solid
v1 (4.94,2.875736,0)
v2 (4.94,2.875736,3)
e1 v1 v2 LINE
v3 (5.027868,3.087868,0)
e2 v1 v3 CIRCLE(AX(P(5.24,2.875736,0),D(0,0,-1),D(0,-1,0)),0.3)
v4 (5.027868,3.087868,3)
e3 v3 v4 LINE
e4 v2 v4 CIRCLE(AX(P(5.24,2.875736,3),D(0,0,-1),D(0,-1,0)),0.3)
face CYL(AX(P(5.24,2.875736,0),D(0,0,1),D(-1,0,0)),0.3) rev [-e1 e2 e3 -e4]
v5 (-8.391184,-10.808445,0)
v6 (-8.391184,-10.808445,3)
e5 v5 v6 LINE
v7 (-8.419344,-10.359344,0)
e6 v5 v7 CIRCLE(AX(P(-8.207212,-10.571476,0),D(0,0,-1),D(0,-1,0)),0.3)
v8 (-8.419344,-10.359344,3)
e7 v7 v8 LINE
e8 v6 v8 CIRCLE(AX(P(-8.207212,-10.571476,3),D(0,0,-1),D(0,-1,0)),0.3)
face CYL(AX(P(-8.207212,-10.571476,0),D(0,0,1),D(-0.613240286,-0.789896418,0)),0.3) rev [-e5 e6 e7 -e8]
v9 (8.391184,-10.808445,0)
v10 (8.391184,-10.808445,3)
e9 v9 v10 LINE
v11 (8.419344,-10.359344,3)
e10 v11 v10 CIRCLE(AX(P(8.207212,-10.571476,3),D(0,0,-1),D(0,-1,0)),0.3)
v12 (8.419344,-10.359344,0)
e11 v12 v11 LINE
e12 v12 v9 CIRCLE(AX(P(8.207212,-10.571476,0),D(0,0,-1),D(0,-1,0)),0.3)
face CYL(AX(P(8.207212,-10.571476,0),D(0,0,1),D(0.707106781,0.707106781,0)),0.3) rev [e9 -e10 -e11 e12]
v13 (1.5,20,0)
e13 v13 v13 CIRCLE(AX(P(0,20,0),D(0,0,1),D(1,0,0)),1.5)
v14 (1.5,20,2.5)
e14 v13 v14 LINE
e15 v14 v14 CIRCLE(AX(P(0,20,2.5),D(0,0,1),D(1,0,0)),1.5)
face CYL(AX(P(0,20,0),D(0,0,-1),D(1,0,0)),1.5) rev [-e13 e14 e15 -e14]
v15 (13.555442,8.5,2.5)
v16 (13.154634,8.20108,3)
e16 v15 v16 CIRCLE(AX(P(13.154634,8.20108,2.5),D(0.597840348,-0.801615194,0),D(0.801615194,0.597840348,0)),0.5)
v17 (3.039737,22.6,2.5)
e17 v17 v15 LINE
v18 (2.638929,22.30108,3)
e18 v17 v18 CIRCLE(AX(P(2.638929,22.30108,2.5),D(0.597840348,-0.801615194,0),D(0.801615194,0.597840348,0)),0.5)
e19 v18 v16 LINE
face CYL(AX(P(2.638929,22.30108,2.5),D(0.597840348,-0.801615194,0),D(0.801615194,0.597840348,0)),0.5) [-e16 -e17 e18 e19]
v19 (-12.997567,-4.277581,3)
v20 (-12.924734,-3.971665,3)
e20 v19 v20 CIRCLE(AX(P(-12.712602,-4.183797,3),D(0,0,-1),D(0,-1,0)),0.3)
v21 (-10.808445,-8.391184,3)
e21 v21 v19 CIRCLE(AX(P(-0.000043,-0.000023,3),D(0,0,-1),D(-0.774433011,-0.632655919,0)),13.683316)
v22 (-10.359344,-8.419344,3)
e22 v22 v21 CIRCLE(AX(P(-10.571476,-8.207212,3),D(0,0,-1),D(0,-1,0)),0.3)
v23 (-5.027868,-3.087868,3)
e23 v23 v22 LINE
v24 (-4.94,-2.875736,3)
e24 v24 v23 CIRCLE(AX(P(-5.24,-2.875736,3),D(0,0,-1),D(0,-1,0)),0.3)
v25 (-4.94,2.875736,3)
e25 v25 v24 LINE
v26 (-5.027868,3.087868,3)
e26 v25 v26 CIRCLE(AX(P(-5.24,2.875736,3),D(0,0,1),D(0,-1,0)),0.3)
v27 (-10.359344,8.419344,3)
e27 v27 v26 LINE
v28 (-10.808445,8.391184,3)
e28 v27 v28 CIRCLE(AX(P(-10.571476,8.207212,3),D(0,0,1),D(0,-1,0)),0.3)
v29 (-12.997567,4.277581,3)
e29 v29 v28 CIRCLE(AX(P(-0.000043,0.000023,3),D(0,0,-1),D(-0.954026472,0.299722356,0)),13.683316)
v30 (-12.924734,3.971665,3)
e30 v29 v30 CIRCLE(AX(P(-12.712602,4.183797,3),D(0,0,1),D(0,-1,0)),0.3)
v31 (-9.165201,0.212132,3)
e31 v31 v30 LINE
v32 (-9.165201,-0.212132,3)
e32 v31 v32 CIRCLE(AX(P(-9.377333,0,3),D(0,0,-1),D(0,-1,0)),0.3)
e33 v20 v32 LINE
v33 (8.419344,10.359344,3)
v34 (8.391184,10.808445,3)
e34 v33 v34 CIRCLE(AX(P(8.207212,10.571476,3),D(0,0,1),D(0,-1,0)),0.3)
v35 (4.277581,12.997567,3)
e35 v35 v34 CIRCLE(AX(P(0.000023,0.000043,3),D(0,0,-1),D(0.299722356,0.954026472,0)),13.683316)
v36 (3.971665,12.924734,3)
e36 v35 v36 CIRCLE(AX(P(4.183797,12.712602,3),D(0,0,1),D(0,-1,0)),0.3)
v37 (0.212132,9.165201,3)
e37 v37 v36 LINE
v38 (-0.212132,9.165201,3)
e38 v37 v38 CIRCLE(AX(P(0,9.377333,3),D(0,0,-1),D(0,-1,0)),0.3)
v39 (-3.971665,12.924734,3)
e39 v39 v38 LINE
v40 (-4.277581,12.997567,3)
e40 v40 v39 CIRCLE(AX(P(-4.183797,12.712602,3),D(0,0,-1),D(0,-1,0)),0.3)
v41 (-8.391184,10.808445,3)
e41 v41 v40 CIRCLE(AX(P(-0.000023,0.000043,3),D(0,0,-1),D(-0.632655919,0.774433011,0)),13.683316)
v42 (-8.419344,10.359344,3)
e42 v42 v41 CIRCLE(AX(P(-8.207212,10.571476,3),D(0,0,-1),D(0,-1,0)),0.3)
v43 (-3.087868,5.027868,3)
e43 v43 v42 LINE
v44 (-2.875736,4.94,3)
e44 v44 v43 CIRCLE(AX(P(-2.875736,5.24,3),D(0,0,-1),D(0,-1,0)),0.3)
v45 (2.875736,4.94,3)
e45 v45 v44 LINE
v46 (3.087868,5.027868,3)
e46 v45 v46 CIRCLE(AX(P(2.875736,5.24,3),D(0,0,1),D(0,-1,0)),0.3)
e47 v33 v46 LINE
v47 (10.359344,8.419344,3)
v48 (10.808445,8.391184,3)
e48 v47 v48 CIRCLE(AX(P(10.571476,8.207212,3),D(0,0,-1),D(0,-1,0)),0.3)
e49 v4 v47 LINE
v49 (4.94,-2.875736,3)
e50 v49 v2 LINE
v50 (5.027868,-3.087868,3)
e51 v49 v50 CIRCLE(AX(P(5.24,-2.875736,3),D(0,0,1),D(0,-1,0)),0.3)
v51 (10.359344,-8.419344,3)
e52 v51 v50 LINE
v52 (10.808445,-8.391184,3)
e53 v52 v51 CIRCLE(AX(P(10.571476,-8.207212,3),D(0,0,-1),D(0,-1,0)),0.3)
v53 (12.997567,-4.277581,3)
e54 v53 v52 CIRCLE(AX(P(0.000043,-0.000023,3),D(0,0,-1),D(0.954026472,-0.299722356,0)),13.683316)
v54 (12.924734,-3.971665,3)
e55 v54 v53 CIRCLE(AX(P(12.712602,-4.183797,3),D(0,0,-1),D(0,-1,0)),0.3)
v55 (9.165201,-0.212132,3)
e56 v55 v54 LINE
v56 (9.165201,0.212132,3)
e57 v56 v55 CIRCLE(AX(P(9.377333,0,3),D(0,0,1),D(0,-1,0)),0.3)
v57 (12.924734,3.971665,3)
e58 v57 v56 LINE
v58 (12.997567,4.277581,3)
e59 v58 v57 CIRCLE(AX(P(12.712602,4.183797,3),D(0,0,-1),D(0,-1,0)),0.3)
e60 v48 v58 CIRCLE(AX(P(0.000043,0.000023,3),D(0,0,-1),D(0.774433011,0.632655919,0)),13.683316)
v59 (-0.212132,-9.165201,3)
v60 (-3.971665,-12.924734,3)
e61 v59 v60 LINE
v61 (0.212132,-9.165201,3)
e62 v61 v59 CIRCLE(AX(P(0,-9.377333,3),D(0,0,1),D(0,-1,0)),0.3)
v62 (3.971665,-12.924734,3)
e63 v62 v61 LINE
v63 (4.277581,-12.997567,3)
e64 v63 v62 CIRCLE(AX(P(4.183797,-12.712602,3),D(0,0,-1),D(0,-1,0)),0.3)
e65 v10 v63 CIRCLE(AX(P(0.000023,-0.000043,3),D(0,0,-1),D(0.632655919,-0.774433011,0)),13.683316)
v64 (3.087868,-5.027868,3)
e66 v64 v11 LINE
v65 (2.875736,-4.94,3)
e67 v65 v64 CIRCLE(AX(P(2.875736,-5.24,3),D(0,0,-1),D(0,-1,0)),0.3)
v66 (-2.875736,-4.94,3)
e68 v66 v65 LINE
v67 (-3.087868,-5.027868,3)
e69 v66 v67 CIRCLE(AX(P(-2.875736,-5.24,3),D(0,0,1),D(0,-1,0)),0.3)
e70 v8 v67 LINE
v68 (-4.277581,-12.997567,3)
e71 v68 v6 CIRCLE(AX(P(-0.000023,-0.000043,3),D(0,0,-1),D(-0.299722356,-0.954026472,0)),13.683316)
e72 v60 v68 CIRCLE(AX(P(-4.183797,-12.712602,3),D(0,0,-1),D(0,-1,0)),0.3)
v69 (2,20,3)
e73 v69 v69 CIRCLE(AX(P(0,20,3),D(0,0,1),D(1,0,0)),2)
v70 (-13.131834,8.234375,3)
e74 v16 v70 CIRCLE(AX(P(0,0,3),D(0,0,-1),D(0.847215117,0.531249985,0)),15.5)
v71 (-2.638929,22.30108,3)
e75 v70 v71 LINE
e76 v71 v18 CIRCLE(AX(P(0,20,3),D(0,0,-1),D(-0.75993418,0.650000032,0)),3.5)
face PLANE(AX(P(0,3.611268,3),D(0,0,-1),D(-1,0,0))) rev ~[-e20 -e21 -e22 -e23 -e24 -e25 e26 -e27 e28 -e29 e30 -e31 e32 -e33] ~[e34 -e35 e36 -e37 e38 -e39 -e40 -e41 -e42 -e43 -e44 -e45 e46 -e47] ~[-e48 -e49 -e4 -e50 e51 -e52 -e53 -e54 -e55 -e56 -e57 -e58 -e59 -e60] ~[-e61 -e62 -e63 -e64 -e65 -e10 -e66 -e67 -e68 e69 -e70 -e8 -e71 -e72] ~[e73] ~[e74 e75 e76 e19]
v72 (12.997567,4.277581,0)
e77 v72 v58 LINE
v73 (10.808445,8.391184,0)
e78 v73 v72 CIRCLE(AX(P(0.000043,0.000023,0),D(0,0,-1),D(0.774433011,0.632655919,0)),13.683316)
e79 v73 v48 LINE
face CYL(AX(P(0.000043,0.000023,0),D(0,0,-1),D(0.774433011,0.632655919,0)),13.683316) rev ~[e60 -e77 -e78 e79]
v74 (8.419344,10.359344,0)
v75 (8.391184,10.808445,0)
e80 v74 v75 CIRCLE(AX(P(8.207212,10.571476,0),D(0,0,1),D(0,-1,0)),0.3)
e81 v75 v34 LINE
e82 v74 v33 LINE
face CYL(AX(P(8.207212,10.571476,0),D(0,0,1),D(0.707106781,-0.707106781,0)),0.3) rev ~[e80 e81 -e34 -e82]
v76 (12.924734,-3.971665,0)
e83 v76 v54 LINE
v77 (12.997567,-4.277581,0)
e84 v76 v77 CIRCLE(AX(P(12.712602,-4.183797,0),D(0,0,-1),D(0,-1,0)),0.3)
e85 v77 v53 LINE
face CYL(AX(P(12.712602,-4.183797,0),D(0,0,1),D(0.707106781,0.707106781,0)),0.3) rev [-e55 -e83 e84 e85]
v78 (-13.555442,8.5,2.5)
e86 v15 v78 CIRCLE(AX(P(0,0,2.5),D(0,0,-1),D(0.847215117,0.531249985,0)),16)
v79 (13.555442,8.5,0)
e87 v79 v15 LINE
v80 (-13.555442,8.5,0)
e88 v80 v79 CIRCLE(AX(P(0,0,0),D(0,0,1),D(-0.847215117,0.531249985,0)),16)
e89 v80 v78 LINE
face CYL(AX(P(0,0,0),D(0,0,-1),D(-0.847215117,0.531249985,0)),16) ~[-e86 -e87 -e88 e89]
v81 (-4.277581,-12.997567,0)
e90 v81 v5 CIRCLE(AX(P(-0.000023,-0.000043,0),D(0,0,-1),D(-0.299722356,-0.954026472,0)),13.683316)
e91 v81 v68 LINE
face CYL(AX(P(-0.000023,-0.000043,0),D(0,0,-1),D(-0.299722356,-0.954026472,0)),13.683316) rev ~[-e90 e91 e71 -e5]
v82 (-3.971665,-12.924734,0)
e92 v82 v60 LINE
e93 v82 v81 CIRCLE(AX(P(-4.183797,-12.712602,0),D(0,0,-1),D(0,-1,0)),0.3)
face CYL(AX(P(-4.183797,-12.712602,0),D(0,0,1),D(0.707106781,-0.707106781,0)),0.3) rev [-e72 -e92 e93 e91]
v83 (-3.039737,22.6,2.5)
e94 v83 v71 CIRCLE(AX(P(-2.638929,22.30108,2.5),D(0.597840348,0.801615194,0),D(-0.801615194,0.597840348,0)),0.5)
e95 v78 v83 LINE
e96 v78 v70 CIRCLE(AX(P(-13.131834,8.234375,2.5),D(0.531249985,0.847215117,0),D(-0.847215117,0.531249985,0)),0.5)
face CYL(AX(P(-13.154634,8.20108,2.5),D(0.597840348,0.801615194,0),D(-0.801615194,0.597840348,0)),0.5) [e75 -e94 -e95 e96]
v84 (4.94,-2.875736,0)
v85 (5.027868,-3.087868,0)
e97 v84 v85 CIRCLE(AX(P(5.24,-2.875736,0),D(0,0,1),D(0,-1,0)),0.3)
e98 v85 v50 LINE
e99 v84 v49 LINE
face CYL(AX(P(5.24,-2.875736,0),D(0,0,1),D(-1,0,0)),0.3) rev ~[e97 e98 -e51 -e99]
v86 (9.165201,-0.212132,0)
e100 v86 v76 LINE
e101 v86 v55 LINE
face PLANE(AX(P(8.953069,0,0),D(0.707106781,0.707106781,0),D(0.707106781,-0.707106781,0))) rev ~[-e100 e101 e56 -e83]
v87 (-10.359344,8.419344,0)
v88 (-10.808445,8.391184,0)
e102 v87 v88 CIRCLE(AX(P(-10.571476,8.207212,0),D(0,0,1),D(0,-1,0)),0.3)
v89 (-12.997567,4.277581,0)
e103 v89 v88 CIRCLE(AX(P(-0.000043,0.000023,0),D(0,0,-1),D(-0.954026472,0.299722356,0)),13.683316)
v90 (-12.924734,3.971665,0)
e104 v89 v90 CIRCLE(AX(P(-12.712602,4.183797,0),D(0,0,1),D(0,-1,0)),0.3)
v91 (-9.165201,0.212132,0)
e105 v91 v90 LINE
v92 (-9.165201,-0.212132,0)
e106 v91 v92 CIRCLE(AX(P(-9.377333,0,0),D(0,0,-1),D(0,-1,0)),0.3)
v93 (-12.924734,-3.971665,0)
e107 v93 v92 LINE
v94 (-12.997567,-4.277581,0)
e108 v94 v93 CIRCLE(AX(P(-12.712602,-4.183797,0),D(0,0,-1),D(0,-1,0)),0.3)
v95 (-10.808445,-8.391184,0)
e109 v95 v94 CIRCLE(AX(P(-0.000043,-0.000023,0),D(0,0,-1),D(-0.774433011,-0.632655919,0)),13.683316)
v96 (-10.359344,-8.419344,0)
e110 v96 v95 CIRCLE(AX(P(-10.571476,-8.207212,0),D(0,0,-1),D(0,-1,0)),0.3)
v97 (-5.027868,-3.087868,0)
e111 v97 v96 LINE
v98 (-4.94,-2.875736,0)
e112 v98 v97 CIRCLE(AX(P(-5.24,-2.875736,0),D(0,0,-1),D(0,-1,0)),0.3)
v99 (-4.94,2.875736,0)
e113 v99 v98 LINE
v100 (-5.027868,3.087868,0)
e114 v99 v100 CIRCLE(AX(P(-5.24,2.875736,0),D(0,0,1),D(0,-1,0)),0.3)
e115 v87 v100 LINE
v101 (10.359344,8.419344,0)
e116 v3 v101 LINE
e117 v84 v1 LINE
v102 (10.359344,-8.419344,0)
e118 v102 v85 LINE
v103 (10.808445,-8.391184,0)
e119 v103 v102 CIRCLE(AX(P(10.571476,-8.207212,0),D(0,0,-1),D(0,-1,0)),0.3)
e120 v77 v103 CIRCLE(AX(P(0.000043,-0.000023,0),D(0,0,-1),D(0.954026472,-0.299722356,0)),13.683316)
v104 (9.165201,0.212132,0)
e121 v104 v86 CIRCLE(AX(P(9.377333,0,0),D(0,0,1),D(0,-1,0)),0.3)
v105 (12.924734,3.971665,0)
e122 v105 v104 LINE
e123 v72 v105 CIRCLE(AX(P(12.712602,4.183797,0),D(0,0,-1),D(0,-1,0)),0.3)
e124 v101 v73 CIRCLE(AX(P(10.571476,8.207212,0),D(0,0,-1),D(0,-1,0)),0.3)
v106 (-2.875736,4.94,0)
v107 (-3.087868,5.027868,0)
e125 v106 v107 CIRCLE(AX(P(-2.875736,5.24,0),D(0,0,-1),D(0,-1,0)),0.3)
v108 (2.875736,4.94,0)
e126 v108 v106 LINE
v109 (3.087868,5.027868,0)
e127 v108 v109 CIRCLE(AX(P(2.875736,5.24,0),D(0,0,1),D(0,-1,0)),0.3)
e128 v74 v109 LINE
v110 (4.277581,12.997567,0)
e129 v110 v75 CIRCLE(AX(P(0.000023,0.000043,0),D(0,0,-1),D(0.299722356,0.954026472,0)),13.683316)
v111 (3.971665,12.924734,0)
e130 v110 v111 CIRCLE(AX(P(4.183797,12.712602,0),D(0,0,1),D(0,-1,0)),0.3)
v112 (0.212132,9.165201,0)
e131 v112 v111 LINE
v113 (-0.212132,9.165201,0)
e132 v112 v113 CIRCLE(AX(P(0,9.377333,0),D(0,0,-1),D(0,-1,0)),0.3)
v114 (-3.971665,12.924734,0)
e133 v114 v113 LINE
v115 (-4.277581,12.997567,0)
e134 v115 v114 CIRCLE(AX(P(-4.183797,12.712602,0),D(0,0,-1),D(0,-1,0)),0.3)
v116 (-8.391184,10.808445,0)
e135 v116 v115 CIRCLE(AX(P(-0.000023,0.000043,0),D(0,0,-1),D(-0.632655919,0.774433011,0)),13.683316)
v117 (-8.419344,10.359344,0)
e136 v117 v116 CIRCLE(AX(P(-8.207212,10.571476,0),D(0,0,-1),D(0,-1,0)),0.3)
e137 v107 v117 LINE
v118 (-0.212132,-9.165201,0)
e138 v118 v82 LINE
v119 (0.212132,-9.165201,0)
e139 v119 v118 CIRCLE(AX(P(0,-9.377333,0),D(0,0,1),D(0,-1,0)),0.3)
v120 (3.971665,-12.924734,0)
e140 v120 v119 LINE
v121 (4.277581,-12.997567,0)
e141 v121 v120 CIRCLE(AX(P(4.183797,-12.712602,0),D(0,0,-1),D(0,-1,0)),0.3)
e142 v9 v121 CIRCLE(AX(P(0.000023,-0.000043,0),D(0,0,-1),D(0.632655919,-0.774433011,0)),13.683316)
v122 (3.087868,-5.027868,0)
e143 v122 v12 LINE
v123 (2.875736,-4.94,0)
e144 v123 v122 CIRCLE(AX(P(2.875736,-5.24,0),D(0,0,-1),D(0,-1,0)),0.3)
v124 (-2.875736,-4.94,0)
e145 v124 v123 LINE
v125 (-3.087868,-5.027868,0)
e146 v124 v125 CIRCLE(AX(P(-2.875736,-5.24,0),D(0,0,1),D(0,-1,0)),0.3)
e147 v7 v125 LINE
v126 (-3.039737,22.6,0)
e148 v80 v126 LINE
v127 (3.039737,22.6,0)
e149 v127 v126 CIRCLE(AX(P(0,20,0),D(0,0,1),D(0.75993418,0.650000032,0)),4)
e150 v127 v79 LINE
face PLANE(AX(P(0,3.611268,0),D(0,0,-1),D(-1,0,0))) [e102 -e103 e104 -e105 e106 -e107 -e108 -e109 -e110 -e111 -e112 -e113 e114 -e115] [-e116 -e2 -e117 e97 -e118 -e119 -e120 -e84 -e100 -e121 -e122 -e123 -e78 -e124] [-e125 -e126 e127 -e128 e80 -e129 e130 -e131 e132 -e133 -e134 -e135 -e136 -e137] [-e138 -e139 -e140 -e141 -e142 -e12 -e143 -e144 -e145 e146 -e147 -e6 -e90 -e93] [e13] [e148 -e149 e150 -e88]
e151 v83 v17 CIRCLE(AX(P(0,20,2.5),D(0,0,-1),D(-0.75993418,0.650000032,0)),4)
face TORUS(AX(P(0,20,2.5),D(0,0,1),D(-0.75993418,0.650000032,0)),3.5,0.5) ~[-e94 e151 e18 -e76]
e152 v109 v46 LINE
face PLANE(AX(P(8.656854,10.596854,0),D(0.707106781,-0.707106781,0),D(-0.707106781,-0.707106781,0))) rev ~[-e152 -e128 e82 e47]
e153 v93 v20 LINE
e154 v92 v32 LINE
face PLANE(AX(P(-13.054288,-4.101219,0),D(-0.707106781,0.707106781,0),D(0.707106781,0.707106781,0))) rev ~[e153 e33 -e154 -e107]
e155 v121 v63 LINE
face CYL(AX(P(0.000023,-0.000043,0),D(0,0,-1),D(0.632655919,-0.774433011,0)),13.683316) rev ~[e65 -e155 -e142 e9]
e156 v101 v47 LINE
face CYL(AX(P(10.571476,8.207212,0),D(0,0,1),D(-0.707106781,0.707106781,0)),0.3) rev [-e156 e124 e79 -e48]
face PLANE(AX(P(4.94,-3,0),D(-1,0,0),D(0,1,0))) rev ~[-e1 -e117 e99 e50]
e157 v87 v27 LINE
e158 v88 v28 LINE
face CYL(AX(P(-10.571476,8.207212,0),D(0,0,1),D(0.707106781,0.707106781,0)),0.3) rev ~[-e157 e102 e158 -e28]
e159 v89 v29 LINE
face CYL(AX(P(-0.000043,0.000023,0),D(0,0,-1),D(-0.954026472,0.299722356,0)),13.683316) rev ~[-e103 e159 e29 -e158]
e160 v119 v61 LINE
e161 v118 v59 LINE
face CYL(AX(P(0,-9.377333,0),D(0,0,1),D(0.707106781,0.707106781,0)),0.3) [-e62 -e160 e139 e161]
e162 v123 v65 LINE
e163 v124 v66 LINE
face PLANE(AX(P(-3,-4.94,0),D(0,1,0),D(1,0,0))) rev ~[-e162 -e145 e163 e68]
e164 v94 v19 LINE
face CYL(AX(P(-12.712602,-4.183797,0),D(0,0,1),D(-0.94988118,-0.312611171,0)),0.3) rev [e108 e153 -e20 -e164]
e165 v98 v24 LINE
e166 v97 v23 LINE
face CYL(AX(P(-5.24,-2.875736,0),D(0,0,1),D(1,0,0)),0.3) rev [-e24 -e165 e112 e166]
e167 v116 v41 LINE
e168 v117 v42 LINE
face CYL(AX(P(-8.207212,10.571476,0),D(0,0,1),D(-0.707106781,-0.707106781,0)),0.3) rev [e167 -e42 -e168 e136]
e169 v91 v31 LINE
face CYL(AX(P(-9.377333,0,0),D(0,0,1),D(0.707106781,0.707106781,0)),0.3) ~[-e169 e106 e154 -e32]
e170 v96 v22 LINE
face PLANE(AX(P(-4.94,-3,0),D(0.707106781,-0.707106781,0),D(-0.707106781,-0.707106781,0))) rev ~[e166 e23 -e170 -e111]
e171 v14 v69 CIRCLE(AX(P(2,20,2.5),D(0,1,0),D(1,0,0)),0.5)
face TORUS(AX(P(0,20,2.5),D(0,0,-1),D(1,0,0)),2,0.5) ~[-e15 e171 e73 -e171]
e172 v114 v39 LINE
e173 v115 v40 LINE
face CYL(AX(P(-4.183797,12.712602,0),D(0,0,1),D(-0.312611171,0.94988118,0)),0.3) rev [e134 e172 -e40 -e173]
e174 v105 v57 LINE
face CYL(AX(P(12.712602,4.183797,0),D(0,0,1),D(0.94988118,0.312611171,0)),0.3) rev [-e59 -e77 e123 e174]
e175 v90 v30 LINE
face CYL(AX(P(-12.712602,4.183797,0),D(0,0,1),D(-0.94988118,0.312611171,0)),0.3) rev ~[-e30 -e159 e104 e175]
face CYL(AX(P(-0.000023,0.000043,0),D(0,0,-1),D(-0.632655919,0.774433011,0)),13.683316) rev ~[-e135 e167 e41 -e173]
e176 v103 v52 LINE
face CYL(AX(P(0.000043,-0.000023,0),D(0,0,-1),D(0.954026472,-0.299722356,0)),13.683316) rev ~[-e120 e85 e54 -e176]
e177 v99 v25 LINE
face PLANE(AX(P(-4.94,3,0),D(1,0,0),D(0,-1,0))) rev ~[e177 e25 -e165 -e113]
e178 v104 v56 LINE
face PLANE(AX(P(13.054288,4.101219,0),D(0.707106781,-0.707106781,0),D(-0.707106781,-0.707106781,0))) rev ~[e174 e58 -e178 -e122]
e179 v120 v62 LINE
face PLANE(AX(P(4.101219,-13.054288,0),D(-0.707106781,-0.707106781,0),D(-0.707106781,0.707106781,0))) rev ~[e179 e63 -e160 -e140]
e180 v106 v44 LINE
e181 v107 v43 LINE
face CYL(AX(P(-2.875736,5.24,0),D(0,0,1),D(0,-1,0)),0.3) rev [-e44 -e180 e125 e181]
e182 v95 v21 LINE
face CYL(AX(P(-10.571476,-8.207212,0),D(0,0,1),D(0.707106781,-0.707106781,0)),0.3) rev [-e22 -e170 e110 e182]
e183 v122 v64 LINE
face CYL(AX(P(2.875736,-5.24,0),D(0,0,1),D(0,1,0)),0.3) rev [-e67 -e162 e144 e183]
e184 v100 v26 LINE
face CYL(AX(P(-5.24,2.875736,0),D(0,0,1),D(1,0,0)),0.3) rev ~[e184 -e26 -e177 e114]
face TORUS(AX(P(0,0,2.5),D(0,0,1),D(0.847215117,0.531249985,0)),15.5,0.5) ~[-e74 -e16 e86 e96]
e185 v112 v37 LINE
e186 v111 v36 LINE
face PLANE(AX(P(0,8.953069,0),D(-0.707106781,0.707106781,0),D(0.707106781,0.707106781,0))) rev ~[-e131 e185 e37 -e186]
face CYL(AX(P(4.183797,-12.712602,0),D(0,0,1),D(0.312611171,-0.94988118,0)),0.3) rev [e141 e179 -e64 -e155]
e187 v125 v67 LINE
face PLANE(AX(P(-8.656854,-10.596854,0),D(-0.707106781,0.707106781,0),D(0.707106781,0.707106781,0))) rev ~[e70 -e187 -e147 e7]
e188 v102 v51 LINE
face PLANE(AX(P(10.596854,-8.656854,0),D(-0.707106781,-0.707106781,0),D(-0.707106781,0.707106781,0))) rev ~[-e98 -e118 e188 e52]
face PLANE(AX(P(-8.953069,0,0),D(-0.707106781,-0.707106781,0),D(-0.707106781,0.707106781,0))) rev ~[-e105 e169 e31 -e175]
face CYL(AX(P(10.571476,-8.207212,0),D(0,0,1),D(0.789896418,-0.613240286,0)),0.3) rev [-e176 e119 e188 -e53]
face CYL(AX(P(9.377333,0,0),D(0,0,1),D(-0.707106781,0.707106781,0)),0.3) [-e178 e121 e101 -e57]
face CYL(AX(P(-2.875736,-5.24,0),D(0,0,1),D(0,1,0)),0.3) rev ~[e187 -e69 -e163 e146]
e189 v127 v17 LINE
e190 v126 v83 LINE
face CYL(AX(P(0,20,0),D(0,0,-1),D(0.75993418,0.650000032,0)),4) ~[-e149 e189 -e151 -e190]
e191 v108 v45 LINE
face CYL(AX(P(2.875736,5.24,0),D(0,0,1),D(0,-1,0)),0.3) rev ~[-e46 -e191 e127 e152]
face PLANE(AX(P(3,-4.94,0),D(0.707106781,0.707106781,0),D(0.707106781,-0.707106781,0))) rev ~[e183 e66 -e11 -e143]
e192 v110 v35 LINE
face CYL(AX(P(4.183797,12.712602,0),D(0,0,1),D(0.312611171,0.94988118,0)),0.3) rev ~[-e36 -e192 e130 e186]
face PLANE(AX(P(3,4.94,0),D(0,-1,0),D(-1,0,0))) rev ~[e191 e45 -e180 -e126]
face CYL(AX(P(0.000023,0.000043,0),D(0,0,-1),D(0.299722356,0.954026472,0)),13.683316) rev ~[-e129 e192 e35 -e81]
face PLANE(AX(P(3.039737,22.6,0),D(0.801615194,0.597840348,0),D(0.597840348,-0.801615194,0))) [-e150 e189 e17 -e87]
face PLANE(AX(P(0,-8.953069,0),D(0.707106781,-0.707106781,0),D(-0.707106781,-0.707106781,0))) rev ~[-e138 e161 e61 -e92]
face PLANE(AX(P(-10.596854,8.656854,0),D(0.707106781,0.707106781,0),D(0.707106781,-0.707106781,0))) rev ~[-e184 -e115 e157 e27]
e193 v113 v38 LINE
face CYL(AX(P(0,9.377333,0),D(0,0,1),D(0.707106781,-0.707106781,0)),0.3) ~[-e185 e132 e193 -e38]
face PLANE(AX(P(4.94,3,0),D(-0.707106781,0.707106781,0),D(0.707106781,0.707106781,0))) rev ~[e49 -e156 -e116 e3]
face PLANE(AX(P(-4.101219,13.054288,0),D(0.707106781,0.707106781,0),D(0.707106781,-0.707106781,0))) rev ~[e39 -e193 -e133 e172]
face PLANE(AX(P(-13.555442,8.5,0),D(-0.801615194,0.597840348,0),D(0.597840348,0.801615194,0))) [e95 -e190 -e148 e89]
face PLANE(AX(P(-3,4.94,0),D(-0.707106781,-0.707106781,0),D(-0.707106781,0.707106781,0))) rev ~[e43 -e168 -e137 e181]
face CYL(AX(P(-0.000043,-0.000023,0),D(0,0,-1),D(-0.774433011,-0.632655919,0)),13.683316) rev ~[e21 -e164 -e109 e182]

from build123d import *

# Parameters (mm, degrees)
SKETCH_R           = 1.5
PAD_DEPTH          = 3
FILLET_R           = 0.5
POCKET_DEPTH       = 105.626533
FILLET001_R        = 0.3
POLARPATTERN_COUNT = 4
FILLET002_R        = 0.3
FILLET003_R        = 0.3
FILLET004_R        = 0.3


with BuildPart() as part:
    # Sketch → Pad (new body)
    with BuildSketch(Plane.XY):
        with BuildLine():
            Line((-13.555442, 8.5), (-3.039737, 22.6))
            ThreePointArc((3.039737, 22.6), (0, 24), (-3.039737, 22.6))
            Line((3.039737, 22.6), (13.555442, 8.5))
            ThreePointArc((-13.555442, 8.5), (0, -16), (13.555442, 8.5))
        make_face()
        with Locations((0, 20)):
            Circle(SKETCH_R, mode=Mode.SUBTRACT)
    extrude(amount=PAD_DEPTH)

    # Fillet
    fillet_edges = [part.edges().sort_by_distance(p)[0] for p in [
        (8.297589, 15.55, 3),
        (0, -16, 3),
        (-8.297589, 15.55, 3),
        (0, 24, 3),
        (-1.5, 20, 3),
    ]]
    fillet(fillet_edges, radius=FILLET_R)

    # Sketch001 (on Face6 of Pad) → Pocket (cut, through all)
    with BuildSketch(Plane(origin=(0, 0, 0), x_dir=(1, 0, 0), z_dir=(0, 0, -1))):
        with BuildLine():
            Line((-3, 4.94), (3, 4.94))
            Line((3, 4.94), (8.656854, 10.596854))
            ThreePointArc((8.656854, 10.596854), (6.496296, 12.042948), (4.101219, 13.054288))
            Line((4.101219, 13.054288), (0, 8.953069))
            Line((0, 8.953069), (-4.101219, 13.054288))
            ThreePointArc((-4.101219, 13.054288), (-6.496296, 12.042948), (-8.656854, 10.596854))
            Line((-8.656854, 10.596854), (-3, 4.94))
        make_face()
    pocket = extrude(amount=-POCKET_DEPTH, mode=Mode.SUBTRACT)

    # Fillet001
    fillet001_edges = [part.edges().sort_by_distance(p)[0] for p in [
        (-3, -4.94, 1.5),
        (3, -4.94, 1.5),
        (-8.656854, -10.596854, 1.5),
        (0, -8.953069, 1.5),
        (8.656854, -10.596854, 1.5),
        (4.101219, -13.054288, 1.5),
        (-4.101219, -13.054288, 1.5),
    ]]
    fillet(fillet001_edges, radius=FILLET001_R)

    # PolarPattern: Pocket ×4 about axis
    polarpattern_axis = Axis((0, 0, 0), (0, 0, -1))
    for i in range(1, POLARPATTERN_COUNT):
        add(pocket.rotate(polarpattern_axis, i * 360 / POLARPATTERN_COUNT), mode=Mode.SUBTRACT)

    # Fillet002
    fillet002_edges = [part.edges().sort_by_distance(p)[0] for p in [
        (10.596854, 8.656854, 1.5),
        (8.953069, 0, 1.5),
        (13.054288, 4.101219, 1.5),
        (13.054288, -4.101219, 1.5),
        (4.94, 3, 1.5),
        (4.94, -3, 1.5),
        (10.596854, -8.656854, 1.5),
    ]]
    fillet(fillet002_edges, radius=FILLET002_R)

    # Fillet003
    fillet003_edges = [part.edges().sort_by_distance(p)[0] for p in [
        (-10.596854, -8.656854, 1.5),
        (-8.953069, 0, 1.5),
        (-13.054288, 4.101219, 1.5),
        (-13.054288, -4.101219, 1.5),
        (-4.94, 3, 1.5),
        (-4.94, -3, 1.5),
        (-10.596854, 8.656854, 1.5),
    ]]
    fillet(fillet003_edges, radius=FILLET003_R)

    # Fillet004
    fillet004_edges = [part.edges().sort_by_distance(p)[0] for p in [
        (-8.656854, 10.596854, 1.5),
        (-3, 4.94, 1.5),
        (3, 4.94, 1.5),
        (8.656854, 10.596854, 1.5),
        (0, 8.953069, 1.5),
        (-4.101219, 13.054288, 1.5),
        (4.101219, 13.054288, 1.5),
    ]]
    fillet(fillet004_edges, radius=FILLET004_R)


solid = part.part
